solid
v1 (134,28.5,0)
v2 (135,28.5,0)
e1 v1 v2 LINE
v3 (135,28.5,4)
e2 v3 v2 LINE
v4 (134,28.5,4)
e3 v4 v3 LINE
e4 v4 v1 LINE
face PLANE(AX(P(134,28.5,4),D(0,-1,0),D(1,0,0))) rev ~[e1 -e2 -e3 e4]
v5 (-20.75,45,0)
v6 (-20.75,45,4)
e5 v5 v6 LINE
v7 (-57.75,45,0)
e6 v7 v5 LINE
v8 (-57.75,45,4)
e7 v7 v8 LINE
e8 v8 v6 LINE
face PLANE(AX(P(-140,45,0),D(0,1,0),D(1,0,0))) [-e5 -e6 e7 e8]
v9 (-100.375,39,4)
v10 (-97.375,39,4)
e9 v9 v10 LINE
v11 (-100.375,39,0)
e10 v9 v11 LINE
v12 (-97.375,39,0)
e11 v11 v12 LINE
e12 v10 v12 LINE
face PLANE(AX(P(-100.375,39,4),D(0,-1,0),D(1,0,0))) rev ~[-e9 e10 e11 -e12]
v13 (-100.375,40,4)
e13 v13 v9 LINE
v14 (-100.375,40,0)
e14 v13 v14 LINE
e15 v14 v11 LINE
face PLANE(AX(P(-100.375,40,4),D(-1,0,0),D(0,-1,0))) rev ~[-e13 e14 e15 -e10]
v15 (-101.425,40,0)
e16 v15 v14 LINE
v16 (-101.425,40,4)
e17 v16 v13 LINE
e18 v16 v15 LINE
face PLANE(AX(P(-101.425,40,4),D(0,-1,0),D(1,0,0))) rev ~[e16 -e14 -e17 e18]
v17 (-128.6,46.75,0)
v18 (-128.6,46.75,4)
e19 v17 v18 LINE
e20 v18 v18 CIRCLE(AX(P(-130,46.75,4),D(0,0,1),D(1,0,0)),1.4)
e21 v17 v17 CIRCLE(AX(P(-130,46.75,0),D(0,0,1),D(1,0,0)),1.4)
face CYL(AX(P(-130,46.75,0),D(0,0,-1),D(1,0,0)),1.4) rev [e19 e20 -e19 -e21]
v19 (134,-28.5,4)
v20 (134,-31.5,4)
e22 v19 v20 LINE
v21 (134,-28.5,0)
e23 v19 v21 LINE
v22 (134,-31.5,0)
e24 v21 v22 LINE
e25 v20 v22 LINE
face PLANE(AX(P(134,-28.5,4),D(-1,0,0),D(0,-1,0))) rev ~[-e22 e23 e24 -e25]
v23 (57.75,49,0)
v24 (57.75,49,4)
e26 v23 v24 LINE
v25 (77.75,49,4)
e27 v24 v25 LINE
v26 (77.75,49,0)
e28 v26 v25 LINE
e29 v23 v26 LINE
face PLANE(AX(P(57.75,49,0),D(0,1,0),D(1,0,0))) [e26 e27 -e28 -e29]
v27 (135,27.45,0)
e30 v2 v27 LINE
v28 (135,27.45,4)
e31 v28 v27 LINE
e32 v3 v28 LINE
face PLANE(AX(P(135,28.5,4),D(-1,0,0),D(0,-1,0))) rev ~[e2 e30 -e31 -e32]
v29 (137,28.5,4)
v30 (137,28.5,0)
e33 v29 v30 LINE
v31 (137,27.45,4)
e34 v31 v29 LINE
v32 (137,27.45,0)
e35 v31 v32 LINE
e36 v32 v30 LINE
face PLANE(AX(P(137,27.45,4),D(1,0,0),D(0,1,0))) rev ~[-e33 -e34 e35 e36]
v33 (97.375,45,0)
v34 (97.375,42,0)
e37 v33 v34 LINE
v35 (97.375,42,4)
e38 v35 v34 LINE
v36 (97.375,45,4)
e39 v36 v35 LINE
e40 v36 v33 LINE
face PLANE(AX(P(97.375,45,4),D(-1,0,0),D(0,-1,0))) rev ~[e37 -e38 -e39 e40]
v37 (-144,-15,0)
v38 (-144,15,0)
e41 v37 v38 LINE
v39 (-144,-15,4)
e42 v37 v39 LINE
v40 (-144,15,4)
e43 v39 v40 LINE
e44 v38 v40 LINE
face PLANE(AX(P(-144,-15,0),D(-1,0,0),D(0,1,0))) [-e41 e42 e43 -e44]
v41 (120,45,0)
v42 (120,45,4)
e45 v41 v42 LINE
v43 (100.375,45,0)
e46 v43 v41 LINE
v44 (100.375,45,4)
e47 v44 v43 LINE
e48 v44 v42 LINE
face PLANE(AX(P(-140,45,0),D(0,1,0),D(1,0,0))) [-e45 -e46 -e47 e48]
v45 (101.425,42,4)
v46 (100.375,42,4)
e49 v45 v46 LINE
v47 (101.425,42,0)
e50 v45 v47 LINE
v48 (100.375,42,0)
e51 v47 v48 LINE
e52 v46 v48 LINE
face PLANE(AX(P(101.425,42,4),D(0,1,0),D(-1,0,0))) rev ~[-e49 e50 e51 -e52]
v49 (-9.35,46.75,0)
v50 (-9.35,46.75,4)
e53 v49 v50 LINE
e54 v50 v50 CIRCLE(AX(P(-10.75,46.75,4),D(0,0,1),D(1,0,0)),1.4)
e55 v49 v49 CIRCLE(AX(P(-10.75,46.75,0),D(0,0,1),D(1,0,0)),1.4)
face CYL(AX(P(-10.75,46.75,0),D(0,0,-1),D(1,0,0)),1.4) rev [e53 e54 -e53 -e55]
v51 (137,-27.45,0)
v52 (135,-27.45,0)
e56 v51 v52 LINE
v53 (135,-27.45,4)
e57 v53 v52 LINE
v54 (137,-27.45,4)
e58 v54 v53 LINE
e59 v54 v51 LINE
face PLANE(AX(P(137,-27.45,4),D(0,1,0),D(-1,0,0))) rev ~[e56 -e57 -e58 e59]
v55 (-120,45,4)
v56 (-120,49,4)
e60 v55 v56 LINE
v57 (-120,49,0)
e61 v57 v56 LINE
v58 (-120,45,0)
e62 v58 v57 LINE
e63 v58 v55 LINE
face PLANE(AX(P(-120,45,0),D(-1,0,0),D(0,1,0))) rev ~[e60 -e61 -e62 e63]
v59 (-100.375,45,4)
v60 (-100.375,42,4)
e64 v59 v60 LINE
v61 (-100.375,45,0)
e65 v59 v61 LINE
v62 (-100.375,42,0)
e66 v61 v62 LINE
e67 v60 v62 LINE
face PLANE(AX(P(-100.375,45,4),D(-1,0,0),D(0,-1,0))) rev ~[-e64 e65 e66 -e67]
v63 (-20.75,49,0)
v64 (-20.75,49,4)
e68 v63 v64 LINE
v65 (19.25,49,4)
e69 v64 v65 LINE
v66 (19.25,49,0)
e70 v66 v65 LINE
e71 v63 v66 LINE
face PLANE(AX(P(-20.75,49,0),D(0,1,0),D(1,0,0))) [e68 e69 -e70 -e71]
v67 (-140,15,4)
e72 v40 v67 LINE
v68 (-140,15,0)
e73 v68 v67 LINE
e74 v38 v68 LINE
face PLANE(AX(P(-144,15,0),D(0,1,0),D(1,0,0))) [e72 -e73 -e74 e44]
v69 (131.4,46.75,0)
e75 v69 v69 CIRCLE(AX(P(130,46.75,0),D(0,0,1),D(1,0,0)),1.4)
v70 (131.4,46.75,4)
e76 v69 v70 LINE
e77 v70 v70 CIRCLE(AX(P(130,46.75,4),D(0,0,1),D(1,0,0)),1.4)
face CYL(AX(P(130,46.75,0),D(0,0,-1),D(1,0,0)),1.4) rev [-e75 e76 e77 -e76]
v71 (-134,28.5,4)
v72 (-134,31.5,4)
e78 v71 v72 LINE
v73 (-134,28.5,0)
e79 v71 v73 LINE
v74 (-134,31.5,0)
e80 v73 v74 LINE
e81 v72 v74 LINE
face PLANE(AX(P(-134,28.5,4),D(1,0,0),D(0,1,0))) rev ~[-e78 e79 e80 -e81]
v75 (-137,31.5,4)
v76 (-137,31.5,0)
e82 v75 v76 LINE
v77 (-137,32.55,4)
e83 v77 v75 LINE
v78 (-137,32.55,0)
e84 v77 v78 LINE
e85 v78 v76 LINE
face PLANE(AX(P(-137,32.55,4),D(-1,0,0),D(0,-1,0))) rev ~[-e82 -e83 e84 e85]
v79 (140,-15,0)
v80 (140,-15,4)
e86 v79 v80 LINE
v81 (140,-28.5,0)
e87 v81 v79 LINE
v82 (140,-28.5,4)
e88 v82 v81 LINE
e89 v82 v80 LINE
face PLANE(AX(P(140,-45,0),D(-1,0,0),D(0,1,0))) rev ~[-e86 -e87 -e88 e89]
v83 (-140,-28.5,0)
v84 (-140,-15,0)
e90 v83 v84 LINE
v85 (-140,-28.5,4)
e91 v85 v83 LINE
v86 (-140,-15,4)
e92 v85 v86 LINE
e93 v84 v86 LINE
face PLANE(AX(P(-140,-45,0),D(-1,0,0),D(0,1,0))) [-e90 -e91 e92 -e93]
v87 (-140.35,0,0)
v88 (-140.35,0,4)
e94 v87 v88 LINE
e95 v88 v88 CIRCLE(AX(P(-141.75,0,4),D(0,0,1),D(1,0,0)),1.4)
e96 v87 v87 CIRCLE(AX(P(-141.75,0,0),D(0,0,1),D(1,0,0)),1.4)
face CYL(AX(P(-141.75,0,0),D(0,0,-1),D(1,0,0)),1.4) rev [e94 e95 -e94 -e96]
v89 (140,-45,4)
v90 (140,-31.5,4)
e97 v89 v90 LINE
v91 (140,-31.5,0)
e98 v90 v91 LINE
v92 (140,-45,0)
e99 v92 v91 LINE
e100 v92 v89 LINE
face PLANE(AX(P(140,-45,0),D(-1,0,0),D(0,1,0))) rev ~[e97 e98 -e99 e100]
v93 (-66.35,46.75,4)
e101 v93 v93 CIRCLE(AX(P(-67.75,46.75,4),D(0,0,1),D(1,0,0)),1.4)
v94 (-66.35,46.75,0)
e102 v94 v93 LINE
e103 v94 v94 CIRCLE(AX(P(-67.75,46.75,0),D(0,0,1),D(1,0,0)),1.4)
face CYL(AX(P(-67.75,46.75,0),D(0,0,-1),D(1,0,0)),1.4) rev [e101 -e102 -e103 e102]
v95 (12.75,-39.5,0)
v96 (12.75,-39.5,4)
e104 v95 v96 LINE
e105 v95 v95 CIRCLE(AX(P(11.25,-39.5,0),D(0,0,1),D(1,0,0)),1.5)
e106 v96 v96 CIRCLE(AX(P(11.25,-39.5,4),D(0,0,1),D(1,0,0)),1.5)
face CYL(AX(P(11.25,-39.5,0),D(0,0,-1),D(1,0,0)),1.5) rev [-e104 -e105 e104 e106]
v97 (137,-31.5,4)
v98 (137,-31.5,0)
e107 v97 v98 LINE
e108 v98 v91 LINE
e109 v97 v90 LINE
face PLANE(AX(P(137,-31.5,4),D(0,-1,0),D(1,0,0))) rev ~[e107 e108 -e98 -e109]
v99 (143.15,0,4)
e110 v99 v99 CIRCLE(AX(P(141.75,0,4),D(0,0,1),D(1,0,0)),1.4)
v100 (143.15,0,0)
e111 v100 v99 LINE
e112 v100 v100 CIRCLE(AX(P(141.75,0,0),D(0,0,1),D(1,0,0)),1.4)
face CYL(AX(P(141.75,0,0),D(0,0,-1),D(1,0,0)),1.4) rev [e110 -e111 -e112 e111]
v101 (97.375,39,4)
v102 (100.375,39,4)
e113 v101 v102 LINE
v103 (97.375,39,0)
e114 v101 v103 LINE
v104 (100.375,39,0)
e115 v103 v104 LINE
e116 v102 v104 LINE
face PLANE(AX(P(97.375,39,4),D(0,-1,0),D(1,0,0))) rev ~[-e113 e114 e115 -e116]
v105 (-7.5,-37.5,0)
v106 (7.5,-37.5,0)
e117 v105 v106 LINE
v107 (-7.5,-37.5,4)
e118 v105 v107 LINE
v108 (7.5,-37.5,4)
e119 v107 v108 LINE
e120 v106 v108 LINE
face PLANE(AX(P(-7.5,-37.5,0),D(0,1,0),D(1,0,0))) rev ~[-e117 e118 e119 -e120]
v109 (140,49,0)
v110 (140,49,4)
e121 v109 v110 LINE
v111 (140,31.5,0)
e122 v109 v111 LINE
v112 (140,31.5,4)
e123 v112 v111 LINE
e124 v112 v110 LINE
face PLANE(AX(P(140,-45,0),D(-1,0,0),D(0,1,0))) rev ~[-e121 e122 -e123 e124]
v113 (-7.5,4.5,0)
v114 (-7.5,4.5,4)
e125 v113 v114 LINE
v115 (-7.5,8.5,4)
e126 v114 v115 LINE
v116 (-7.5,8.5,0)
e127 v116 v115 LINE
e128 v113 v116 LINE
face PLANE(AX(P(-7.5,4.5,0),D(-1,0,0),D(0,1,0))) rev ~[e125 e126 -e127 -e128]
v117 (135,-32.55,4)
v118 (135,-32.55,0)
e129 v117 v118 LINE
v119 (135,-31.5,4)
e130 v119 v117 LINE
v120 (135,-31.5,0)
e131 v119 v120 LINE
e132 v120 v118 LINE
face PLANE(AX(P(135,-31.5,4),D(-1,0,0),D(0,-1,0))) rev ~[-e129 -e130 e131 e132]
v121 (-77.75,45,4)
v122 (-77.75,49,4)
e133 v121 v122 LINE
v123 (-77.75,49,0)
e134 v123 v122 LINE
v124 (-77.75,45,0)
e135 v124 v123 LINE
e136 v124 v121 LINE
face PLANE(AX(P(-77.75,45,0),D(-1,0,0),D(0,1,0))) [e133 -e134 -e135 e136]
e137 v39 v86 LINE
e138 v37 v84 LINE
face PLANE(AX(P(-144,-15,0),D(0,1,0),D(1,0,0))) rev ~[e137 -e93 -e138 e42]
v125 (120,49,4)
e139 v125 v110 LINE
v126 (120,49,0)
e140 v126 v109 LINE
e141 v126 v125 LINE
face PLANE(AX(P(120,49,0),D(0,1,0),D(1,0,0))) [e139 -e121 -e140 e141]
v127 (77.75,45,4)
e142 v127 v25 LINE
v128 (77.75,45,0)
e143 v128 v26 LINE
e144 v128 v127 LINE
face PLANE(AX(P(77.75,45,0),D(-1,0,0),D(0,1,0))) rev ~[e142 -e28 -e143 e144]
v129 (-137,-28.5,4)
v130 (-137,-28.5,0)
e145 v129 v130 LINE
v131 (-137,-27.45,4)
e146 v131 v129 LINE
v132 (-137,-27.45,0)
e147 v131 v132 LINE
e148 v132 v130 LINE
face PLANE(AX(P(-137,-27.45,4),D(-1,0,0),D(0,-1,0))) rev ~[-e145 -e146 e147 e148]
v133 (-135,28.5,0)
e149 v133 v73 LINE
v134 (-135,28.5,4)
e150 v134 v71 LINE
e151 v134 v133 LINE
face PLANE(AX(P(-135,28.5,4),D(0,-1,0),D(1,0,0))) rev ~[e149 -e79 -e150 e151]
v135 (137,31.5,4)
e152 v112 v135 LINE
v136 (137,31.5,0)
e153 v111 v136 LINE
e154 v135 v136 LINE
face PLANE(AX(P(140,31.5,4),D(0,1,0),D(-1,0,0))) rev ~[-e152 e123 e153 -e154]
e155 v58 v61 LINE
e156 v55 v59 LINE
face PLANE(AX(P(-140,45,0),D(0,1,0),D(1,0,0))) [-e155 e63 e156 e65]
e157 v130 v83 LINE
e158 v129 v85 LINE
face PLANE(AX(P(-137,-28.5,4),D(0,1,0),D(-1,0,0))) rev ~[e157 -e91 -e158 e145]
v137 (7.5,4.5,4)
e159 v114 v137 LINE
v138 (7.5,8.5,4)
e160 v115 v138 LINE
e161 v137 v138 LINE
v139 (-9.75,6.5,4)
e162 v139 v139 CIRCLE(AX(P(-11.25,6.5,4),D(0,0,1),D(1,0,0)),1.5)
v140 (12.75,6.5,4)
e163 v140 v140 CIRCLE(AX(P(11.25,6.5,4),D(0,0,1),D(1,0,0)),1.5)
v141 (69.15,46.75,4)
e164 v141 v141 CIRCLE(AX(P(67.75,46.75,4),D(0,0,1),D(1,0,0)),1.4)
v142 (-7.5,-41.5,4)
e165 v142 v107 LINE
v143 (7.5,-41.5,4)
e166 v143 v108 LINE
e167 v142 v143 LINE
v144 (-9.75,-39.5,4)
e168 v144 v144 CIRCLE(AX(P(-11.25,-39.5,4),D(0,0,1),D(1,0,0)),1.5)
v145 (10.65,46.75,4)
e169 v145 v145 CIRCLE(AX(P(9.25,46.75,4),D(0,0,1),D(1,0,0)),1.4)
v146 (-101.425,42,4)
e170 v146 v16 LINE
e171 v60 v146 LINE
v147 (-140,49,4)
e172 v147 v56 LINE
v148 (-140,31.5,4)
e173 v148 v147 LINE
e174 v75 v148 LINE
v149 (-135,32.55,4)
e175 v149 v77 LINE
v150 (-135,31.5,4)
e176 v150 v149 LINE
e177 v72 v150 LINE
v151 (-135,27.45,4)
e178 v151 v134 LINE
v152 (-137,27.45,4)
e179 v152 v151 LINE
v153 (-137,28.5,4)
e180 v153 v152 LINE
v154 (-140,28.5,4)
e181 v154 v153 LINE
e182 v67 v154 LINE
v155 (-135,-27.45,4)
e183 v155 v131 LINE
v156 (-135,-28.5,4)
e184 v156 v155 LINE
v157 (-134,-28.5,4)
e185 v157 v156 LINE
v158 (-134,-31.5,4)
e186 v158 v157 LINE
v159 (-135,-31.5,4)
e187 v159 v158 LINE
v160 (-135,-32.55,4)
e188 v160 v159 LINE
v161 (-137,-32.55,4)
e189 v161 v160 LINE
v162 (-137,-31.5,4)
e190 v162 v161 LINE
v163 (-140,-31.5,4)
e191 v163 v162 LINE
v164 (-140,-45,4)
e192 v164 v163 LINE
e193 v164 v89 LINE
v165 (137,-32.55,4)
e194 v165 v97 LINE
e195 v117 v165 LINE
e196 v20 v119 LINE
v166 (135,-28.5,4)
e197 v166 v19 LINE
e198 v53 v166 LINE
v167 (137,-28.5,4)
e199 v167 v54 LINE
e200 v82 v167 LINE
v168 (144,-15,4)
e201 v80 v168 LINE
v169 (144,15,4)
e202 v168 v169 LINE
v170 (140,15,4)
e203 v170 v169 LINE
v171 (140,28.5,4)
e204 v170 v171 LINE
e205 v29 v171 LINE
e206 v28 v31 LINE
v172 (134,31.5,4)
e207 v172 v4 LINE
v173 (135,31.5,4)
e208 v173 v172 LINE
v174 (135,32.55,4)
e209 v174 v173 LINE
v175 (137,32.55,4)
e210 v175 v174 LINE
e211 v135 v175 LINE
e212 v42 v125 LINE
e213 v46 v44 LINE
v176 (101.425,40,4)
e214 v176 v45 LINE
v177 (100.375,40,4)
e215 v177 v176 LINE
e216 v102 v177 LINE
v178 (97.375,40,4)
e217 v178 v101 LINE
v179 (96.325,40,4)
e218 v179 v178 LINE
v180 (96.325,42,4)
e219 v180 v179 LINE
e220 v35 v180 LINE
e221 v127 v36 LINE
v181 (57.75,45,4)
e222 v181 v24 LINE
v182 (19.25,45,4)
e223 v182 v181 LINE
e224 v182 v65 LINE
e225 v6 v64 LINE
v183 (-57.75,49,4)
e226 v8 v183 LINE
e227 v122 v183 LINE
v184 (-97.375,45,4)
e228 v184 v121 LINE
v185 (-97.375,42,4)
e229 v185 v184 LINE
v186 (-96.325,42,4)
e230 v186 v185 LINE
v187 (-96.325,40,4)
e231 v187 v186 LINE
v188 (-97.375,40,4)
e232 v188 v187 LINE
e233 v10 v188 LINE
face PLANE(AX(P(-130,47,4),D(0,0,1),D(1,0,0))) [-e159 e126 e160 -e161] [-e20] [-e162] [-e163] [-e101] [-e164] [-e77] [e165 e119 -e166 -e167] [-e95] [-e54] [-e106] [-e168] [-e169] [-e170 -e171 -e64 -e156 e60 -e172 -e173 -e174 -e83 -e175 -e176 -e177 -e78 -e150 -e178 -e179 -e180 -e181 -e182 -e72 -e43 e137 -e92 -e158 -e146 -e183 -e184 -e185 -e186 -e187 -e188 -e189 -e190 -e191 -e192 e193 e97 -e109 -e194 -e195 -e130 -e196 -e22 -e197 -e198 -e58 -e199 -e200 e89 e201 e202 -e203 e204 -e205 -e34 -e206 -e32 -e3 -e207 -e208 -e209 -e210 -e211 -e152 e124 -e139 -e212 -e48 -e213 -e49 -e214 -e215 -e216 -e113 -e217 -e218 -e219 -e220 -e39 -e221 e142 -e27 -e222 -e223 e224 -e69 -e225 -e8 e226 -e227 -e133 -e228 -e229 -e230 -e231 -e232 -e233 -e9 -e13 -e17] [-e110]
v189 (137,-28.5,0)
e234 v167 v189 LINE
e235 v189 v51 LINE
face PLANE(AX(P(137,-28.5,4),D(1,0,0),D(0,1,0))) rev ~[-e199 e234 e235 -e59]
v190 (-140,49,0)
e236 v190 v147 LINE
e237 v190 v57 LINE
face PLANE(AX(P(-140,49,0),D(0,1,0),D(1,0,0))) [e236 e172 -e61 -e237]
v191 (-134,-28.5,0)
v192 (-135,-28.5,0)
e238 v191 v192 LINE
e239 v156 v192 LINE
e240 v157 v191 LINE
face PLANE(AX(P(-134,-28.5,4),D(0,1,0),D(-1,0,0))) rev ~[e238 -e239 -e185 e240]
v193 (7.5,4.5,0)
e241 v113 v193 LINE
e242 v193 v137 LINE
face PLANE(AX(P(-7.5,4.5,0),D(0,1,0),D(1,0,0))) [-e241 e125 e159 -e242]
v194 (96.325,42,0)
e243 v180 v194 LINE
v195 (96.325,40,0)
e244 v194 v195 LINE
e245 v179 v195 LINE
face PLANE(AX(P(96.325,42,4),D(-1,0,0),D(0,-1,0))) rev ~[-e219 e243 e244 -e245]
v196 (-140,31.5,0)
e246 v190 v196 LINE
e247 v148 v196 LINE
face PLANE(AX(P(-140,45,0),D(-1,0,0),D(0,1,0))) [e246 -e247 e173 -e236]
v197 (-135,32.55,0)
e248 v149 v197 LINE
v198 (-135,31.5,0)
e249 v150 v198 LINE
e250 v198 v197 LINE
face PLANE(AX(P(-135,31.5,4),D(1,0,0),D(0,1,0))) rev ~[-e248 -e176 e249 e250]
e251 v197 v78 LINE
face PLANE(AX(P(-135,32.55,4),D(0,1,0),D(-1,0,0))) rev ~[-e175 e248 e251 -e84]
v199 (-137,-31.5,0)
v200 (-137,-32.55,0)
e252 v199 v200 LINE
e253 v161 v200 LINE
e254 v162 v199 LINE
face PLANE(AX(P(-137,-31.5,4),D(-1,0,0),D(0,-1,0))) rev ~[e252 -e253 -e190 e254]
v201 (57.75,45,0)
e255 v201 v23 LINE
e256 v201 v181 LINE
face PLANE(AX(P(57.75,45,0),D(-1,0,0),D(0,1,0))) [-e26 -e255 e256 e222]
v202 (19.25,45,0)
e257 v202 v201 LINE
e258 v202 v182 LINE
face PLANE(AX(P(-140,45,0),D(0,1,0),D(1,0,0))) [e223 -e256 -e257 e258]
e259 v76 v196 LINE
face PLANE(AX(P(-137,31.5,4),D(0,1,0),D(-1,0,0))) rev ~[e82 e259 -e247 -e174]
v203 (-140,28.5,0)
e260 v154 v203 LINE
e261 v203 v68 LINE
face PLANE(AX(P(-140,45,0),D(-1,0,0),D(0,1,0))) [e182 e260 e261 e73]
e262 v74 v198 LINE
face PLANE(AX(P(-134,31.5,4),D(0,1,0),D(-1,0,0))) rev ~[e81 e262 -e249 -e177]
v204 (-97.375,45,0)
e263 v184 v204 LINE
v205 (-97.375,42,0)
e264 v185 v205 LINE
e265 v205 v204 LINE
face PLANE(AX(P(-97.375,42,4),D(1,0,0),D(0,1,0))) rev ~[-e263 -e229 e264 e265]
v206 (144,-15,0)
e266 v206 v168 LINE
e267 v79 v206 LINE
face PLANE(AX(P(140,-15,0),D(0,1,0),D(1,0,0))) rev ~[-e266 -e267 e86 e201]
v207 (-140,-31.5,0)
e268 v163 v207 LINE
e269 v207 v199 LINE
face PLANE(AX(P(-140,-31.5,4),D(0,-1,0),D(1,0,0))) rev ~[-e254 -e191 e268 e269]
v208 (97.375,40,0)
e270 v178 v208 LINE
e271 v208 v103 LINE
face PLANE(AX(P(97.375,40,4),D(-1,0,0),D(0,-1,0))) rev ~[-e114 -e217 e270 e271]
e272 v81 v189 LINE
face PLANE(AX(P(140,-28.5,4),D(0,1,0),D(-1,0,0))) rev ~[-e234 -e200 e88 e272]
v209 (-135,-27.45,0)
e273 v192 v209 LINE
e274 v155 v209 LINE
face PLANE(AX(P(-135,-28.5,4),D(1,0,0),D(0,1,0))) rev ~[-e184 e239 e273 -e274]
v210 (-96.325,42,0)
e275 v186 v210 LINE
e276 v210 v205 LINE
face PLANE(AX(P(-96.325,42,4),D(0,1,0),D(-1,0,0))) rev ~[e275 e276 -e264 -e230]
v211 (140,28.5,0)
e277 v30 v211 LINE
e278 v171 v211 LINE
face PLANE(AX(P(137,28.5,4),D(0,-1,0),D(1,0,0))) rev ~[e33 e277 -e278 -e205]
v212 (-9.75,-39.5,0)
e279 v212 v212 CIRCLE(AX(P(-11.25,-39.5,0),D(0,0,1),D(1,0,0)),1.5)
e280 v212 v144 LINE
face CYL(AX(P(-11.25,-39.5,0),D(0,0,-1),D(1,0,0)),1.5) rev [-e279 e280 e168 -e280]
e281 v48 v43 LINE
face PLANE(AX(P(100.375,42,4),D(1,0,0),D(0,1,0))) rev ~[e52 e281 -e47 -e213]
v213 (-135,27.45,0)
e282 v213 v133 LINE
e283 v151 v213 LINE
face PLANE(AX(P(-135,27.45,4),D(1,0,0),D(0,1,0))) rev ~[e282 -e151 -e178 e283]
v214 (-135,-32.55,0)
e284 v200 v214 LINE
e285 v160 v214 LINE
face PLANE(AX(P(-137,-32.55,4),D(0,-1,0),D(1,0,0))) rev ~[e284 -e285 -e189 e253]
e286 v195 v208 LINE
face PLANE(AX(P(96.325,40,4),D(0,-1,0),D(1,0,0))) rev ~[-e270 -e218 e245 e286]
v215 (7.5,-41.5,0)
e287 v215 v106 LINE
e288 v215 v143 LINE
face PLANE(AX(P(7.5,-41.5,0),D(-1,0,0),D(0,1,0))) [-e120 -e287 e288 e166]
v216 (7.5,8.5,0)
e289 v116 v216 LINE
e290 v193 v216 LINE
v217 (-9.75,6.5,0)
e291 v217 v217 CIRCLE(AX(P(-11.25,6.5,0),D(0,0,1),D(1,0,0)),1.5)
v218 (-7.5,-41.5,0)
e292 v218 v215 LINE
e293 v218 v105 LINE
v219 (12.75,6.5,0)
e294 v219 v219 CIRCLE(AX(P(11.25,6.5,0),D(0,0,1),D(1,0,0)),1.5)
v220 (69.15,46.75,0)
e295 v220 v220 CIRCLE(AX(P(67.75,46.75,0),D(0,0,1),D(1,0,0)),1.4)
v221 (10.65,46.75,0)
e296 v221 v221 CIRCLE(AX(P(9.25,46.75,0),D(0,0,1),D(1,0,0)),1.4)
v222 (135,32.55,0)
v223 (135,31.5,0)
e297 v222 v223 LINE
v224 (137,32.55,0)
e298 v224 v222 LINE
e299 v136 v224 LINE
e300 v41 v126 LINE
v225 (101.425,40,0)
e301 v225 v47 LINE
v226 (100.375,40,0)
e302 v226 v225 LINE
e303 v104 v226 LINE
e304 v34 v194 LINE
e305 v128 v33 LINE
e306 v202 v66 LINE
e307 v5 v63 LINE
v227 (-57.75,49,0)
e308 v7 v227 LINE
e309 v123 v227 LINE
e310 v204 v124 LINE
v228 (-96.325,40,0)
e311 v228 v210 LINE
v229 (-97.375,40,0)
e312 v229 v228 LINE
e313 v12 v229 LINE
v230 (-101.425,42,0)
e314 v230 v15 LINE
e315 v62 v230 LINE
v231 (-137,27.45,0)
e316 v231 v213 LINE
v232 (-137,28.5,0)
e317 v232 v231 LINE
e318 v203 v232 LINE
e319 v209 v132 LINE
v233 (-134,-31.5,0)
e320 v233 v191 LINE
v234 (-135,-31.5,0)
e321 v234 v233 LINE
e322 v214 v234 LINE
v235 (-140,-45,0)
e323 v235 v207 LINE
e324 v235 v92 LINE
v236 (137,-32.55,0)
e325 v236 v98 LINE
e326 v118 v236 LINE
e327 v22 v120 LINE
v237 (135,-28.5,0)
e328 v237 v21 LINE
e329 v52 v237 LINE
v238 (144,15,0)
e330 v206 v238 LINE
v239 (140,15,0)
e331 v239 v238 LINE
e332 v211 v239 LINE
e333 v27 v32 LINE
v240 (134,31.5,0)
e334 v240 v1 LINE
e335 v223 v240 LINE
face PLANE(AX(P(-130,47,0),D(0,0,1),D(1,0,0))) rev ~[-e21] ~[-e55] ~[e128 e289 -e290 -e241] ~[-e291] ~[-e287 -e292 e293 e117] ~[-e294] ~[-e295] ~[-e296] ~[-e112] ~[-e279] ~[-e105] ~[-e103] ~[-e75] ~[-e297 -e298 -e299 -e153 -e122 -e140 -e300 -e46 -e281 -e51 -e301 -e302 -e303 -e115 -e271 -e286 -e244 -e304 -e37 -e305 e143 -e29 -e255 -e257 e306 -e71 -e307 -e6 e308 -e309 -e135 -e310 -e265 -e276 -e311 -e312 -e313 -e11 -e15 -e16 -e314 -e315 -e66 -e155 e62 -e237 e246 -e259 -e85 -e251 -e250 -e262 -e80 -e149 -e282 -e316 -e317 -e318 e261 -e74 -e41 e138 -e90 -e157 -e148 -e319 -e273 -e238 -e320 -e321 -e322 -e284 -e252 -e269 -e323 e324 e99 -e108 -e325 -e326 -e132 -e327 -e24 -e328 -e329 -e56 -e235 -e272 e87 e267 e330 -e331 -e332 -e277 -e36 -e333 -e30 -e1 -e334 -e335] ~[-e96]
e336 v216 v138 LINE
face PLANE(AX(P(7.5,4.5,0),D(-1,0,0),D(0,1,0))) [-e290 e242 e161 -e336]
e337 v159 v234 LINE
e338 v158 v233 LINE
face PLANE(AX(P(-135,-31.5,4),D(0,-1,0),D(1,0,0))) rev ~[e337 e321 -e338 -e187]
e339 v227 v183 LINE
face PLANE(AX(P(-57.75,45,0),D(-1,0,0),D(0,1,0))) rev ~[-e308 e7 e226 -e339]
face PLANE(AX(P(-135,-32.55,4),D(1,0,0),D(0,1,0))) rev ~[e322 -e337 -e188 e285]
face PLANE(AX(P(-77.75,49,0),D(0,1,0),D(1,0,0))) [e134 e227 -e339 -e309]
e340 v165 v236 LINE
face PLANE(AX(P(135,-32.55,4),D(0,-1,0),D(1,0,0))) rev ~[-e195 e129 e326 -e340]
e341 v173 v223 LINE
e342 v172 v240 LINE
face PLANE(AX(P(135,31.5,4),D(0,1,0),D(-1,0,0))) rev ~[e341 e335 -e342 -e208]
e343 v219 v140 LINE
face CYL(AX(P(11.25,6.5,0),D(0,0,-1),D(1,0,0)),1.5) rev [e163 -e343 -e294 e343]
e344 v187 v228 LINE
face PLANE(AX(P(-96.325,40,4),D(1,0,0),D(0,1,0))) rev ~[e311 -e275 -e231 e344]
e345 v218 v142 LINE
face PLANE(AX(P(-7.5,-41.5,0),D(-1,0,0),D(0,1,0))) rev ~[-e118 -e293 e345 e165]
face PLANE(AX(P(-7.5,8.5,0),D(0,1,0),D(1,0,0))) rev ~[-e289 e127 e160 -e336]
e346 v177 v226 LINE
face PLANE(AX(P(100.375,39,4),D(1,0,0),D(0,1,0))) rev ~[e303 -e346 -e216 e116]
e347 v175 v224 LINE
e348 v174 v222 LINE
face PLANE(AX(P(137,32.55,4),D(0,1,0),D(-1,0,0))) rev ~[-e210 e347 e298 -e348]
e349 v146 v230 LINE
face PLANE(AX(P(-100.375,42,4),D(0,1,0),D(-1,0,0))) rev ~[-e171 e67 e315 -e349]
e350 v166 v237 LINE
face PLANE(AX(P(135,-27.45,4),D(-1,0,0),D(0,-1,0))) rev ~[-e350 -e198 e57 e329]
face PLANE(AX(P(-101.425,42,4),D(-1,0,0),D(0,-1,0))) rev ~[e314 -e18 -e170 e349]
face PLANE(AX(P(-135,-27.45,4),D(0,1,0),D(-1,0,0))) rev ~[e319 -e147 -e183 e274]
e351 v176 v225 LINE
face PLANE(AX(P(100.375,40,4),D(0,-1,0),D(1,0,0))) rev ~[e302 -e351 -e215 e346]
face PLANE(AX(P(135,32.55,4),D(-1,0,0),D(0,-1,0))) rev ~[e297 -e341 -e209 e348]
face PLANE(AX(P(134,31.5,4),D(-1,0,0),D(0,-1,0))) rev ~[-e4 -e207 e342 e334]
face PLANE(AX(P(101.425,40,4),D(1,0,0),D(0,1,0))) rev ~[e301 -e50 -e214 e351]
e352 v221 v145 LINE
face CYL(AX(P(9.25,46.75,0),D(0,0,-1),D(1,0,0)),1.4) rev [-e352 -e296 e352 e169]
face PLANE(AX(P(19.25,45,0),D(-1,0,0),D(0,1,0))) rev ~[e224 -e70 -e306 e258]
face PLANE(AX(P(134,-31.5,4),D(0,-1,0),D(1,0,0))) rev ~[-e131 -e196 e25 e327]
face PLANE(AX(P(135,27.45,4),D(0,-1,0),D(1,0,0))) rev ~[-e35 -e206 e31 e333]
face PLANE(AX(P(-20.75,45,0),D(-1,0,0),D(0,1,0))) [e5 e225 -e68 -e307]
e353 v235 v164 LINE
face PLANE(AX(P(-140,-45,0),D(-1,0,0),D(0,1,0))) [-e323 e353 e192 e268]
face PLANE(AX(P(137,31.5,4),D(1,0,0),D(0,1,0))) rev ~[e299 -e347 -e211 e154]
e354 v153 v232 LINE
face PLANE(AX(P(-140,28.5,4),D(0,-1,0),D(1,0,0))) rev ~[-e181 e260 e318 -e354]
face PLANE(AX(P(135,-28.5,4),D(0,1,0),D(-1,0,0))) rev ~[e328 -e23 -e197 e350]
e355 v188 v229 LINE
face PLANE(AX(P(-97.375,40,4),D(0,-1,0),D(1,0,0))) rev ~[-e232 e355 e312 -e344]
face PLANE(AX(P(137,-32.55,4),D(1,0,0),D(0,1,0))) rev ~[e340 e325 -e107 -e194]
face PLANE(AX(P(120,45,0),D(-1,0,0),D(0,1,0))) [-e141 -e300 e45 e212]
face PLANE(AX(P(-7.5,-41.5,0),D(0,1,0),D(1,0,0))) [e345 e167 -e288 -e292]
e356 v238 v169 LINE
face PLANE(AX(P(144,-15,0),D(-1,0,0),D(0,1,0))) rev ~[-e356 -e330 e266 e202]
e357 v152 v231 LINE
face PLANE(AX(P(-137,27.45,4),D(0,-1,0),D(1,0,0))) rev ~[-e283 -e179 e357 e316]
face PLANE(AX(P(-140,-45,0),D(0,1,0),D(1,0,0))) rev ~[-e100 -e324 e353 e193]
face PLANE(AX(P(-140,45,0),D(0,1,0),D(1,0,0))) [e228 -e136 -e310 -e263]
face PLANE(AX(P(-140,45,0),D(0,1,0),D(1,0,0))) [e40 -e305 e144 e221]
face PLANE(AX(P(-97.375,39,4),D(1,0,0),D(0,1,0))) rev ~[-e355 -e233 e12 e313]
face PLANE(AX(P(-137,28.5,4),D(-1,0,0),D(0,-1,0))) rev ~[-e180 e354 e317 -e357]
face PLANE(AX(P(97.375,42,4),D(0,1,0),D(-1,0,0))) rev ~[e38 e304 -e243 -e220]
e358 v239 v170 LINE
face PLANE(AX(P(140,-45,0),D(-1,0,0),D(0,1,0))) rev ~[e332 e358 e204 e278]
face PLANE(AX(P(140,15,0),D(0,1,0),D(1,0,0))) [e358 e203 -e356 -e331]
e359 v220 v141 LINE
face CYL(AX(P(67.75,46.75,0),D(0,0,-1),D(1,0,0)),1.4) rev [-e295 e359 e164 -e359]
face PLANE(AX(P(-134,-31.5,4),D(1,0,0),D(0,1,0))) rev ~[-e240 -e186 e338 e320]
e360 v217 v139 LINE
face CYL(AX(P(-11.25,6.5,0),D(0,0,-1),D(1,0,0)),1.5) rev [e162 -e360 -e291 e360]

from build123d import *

# Parameters (mm, degrees)
SKETCH_1_W          = 280
SKETCH_1_H          = 90
SKETCH_1_R          = 1.5
SKETCH_1_W_2        = 15
SKETCH_1_H_2        = 4
EXTRUDE_1_DEPTH     = 4
SKETCH_2_W          = 4
SKETCH_2_H          = 30
SKETCH_2_R          = 1.4
SKETCH_2_W_2        = 20
SKETCH_2_H_2        = 4
SKETCH_2_W_3        = 40
EXTRUDE_7_DEPTH     = 4
CUT_EXTRUDE_1_DEPTH = 153.161098839


with BuildPart() as part:
    # Эскиз1 → Бобышка-Вытянуть1 (new body)
    with BuildSketch(Plane.XY):
        Rectangle(SKETCH_1_W, SKETCH_1_H)
        with Locations((11.25, 6.5)):
            Circle(SKETCH_1_R, mode=Mode.SUBTRACT)
        with Locations((-11.25, 6.5)):
            Circle(SKETCH_1_R, mode=Mode.SUBTRACT)
        with Locations((-11.25, -39.5)):
            Circle(SKETCH_1_R, mode=Mode.SUBTRACT)
        with Locations((11.25, -39.5)):
            Circle(SKETCH_1_R, mode=Mode.SUBTRACT)
        with Locations((0, -39.5)):
            Rectangle(SKETCH_1_W_2, SKETCH_1_H_2, mode=Mode.SUBTRACT)
        with Locations((0, 6.5)):
            Rectangle(SKETCH_1_W_2, SKETCH_1_H_2, mode=Mode.SUBTRACT)
    extrude(amount=EXTRUDE_1_DEPTH)

    # Эскиз2 → Бобышка-Вытянуть7 (add, through all)
    # profile 1 of 7: a face of its own
    with BuildSketch(Plane.XY):
        with Locations((-142, 0)):
            Rectangle(SKETCH_2_W, SKETCH_2_H)
        with Locations((-141.75, 0)):
            Circle(SKETCH_2_R, mode=Mode.SUBTRACT)
    # profile 2 of 7: a face of its own
    with BuildSketch(Plane.XY):
        with Locations((-130, 47)):
            Rectangle(SKETCH_2_W_2, SKETCH_2_H_2)
        with Locations((-130, 46.75)):
            Circle(SKETCH_2_R, mode=Mode.SUBTRACT)
    # profile 3 of 7: a face of its own
    with BuildSketch(Plane.XY):
        with Locations((-0.75, 47)):
            Rectangle(SKETCH_2_W_3, SKETCH_2_H_2)
        with Locations((9.25, 46.75)):
            Circle(SKETCH_2_R, mode=Mode.SUBTRACT)
        with Locations((-10.75, 46.75)):
            Circle(SKETCH_2_R, mode=Mode.SUBTRACT)
    # profile 4 of 7: a face of its own
    with BuildSketch(Plane.XY):
        with Locations((130, 47)):
            Rectangle(SKETCH_2_W_2, SKETCH_2_H_2)
        with Locations((130, 46.75)):
            Circle(SKETCH_2_R, mode=Mode.SUBTRACT)
    # profile 5 of 7: a face of its own
    with BuildSketch(Plane.XY):
        with Locations((142, 0)):
            Rectangle(SKETCH_2_W, SKETCH_2_H)
        with Locations((141.75, 0)):
            Circle(SKETCH_2_R, mode=Mode.SUBTRACT)
    # profile 6 of 7: a face of its own
    with BuildSketch(Plane.XY):
        with Locations((-67.75, 47)):
            Rectangle(SKETCH_2_W_2, SKETCH_2_H_2)
        with Locations((-67.75, 46.75)):
            Circle(SKETCH_2_R, mode=Mode.SUBTRACT)
    # profile 7 of 7: a face of its own
    with BuildSketch(Plane.XY):
        with Locations((67.75, 47)):
            Rectangle(SKETCH_2_W_2, SKETCH_2_H_2)
        with Locations((67.75, 46.75)):
            Circle(SKETCH_2_R, mode=Mode.SUBTRACT)
    extrude(amount=EXTRUDE_7_DEPTH)

    # Эскиз3 → Вырез-Вытянуть1 (cut, through all)
    with BuildSketch(Plane.XY.offset(4)):
        Polygon((97.375, 42), (96.325, 42), (96.325, 40), (97.375, 40), (97.375, 39), (100.375, 39), (100.375, 40), (101.425, 40), (101.425, 42), (100.375, 42), (100.375, 45), (97.375, 45), align=None)
        Polygon((-97.375, 45), (-100.375, 45), (-100.375, 42), (-101.425, 42), (-101.425, 40), (-100.375, 40), (-100.375, 39), (-97.375, 39), (-97.375, 40), (-96.325, 40), (-96.325, 42), (-97.375, 42), align=None)
        Polygon((-137, 31.5), (-140, 31.5), (-140, 28.5), (-137, 28.5), (-137, 27.45), (-135, 27.45), (-135, 28.5), (-134, 28.5), (-134, 31.5), (-135, 31.5), (-135, 32.55), (-137, 32.55), align=None)
        Polygon((-137, -32.55), (-135, -32.55), (-135, -31.5), (-134, -31.5), (-134, -28.5), (-135, -28.5), (-135, -27.45), (-137, -27.45), (-137, -28.5), (-140, -28.5), (-140, -31.5), (-137, -31.5), align=None)
        Polygon((137, -31.5), (140, -31.5), (140, -28.5), (137, -28.5), (137, -27.45), (135, -27.45), (135, -28.5), (134, -28.5), (134, -31.5), (135, -31.5), (135, -32.55), (137, -32.55), align=None)
        Polygon((137, 32.55), (135, 32.55), (135, 31.5), (134, 31.5), (134, 28.5), (135, 28.5), (135, 27.45), (137, 27.45), (137, 28.5), (140, 28.5), (140, 31.5), (137, 31.5), align=None)
    extrude(amount=-CUT_EXTRUDE_1_DEPTH, mode=Mode.SUBTRACT)


solid = part.part
